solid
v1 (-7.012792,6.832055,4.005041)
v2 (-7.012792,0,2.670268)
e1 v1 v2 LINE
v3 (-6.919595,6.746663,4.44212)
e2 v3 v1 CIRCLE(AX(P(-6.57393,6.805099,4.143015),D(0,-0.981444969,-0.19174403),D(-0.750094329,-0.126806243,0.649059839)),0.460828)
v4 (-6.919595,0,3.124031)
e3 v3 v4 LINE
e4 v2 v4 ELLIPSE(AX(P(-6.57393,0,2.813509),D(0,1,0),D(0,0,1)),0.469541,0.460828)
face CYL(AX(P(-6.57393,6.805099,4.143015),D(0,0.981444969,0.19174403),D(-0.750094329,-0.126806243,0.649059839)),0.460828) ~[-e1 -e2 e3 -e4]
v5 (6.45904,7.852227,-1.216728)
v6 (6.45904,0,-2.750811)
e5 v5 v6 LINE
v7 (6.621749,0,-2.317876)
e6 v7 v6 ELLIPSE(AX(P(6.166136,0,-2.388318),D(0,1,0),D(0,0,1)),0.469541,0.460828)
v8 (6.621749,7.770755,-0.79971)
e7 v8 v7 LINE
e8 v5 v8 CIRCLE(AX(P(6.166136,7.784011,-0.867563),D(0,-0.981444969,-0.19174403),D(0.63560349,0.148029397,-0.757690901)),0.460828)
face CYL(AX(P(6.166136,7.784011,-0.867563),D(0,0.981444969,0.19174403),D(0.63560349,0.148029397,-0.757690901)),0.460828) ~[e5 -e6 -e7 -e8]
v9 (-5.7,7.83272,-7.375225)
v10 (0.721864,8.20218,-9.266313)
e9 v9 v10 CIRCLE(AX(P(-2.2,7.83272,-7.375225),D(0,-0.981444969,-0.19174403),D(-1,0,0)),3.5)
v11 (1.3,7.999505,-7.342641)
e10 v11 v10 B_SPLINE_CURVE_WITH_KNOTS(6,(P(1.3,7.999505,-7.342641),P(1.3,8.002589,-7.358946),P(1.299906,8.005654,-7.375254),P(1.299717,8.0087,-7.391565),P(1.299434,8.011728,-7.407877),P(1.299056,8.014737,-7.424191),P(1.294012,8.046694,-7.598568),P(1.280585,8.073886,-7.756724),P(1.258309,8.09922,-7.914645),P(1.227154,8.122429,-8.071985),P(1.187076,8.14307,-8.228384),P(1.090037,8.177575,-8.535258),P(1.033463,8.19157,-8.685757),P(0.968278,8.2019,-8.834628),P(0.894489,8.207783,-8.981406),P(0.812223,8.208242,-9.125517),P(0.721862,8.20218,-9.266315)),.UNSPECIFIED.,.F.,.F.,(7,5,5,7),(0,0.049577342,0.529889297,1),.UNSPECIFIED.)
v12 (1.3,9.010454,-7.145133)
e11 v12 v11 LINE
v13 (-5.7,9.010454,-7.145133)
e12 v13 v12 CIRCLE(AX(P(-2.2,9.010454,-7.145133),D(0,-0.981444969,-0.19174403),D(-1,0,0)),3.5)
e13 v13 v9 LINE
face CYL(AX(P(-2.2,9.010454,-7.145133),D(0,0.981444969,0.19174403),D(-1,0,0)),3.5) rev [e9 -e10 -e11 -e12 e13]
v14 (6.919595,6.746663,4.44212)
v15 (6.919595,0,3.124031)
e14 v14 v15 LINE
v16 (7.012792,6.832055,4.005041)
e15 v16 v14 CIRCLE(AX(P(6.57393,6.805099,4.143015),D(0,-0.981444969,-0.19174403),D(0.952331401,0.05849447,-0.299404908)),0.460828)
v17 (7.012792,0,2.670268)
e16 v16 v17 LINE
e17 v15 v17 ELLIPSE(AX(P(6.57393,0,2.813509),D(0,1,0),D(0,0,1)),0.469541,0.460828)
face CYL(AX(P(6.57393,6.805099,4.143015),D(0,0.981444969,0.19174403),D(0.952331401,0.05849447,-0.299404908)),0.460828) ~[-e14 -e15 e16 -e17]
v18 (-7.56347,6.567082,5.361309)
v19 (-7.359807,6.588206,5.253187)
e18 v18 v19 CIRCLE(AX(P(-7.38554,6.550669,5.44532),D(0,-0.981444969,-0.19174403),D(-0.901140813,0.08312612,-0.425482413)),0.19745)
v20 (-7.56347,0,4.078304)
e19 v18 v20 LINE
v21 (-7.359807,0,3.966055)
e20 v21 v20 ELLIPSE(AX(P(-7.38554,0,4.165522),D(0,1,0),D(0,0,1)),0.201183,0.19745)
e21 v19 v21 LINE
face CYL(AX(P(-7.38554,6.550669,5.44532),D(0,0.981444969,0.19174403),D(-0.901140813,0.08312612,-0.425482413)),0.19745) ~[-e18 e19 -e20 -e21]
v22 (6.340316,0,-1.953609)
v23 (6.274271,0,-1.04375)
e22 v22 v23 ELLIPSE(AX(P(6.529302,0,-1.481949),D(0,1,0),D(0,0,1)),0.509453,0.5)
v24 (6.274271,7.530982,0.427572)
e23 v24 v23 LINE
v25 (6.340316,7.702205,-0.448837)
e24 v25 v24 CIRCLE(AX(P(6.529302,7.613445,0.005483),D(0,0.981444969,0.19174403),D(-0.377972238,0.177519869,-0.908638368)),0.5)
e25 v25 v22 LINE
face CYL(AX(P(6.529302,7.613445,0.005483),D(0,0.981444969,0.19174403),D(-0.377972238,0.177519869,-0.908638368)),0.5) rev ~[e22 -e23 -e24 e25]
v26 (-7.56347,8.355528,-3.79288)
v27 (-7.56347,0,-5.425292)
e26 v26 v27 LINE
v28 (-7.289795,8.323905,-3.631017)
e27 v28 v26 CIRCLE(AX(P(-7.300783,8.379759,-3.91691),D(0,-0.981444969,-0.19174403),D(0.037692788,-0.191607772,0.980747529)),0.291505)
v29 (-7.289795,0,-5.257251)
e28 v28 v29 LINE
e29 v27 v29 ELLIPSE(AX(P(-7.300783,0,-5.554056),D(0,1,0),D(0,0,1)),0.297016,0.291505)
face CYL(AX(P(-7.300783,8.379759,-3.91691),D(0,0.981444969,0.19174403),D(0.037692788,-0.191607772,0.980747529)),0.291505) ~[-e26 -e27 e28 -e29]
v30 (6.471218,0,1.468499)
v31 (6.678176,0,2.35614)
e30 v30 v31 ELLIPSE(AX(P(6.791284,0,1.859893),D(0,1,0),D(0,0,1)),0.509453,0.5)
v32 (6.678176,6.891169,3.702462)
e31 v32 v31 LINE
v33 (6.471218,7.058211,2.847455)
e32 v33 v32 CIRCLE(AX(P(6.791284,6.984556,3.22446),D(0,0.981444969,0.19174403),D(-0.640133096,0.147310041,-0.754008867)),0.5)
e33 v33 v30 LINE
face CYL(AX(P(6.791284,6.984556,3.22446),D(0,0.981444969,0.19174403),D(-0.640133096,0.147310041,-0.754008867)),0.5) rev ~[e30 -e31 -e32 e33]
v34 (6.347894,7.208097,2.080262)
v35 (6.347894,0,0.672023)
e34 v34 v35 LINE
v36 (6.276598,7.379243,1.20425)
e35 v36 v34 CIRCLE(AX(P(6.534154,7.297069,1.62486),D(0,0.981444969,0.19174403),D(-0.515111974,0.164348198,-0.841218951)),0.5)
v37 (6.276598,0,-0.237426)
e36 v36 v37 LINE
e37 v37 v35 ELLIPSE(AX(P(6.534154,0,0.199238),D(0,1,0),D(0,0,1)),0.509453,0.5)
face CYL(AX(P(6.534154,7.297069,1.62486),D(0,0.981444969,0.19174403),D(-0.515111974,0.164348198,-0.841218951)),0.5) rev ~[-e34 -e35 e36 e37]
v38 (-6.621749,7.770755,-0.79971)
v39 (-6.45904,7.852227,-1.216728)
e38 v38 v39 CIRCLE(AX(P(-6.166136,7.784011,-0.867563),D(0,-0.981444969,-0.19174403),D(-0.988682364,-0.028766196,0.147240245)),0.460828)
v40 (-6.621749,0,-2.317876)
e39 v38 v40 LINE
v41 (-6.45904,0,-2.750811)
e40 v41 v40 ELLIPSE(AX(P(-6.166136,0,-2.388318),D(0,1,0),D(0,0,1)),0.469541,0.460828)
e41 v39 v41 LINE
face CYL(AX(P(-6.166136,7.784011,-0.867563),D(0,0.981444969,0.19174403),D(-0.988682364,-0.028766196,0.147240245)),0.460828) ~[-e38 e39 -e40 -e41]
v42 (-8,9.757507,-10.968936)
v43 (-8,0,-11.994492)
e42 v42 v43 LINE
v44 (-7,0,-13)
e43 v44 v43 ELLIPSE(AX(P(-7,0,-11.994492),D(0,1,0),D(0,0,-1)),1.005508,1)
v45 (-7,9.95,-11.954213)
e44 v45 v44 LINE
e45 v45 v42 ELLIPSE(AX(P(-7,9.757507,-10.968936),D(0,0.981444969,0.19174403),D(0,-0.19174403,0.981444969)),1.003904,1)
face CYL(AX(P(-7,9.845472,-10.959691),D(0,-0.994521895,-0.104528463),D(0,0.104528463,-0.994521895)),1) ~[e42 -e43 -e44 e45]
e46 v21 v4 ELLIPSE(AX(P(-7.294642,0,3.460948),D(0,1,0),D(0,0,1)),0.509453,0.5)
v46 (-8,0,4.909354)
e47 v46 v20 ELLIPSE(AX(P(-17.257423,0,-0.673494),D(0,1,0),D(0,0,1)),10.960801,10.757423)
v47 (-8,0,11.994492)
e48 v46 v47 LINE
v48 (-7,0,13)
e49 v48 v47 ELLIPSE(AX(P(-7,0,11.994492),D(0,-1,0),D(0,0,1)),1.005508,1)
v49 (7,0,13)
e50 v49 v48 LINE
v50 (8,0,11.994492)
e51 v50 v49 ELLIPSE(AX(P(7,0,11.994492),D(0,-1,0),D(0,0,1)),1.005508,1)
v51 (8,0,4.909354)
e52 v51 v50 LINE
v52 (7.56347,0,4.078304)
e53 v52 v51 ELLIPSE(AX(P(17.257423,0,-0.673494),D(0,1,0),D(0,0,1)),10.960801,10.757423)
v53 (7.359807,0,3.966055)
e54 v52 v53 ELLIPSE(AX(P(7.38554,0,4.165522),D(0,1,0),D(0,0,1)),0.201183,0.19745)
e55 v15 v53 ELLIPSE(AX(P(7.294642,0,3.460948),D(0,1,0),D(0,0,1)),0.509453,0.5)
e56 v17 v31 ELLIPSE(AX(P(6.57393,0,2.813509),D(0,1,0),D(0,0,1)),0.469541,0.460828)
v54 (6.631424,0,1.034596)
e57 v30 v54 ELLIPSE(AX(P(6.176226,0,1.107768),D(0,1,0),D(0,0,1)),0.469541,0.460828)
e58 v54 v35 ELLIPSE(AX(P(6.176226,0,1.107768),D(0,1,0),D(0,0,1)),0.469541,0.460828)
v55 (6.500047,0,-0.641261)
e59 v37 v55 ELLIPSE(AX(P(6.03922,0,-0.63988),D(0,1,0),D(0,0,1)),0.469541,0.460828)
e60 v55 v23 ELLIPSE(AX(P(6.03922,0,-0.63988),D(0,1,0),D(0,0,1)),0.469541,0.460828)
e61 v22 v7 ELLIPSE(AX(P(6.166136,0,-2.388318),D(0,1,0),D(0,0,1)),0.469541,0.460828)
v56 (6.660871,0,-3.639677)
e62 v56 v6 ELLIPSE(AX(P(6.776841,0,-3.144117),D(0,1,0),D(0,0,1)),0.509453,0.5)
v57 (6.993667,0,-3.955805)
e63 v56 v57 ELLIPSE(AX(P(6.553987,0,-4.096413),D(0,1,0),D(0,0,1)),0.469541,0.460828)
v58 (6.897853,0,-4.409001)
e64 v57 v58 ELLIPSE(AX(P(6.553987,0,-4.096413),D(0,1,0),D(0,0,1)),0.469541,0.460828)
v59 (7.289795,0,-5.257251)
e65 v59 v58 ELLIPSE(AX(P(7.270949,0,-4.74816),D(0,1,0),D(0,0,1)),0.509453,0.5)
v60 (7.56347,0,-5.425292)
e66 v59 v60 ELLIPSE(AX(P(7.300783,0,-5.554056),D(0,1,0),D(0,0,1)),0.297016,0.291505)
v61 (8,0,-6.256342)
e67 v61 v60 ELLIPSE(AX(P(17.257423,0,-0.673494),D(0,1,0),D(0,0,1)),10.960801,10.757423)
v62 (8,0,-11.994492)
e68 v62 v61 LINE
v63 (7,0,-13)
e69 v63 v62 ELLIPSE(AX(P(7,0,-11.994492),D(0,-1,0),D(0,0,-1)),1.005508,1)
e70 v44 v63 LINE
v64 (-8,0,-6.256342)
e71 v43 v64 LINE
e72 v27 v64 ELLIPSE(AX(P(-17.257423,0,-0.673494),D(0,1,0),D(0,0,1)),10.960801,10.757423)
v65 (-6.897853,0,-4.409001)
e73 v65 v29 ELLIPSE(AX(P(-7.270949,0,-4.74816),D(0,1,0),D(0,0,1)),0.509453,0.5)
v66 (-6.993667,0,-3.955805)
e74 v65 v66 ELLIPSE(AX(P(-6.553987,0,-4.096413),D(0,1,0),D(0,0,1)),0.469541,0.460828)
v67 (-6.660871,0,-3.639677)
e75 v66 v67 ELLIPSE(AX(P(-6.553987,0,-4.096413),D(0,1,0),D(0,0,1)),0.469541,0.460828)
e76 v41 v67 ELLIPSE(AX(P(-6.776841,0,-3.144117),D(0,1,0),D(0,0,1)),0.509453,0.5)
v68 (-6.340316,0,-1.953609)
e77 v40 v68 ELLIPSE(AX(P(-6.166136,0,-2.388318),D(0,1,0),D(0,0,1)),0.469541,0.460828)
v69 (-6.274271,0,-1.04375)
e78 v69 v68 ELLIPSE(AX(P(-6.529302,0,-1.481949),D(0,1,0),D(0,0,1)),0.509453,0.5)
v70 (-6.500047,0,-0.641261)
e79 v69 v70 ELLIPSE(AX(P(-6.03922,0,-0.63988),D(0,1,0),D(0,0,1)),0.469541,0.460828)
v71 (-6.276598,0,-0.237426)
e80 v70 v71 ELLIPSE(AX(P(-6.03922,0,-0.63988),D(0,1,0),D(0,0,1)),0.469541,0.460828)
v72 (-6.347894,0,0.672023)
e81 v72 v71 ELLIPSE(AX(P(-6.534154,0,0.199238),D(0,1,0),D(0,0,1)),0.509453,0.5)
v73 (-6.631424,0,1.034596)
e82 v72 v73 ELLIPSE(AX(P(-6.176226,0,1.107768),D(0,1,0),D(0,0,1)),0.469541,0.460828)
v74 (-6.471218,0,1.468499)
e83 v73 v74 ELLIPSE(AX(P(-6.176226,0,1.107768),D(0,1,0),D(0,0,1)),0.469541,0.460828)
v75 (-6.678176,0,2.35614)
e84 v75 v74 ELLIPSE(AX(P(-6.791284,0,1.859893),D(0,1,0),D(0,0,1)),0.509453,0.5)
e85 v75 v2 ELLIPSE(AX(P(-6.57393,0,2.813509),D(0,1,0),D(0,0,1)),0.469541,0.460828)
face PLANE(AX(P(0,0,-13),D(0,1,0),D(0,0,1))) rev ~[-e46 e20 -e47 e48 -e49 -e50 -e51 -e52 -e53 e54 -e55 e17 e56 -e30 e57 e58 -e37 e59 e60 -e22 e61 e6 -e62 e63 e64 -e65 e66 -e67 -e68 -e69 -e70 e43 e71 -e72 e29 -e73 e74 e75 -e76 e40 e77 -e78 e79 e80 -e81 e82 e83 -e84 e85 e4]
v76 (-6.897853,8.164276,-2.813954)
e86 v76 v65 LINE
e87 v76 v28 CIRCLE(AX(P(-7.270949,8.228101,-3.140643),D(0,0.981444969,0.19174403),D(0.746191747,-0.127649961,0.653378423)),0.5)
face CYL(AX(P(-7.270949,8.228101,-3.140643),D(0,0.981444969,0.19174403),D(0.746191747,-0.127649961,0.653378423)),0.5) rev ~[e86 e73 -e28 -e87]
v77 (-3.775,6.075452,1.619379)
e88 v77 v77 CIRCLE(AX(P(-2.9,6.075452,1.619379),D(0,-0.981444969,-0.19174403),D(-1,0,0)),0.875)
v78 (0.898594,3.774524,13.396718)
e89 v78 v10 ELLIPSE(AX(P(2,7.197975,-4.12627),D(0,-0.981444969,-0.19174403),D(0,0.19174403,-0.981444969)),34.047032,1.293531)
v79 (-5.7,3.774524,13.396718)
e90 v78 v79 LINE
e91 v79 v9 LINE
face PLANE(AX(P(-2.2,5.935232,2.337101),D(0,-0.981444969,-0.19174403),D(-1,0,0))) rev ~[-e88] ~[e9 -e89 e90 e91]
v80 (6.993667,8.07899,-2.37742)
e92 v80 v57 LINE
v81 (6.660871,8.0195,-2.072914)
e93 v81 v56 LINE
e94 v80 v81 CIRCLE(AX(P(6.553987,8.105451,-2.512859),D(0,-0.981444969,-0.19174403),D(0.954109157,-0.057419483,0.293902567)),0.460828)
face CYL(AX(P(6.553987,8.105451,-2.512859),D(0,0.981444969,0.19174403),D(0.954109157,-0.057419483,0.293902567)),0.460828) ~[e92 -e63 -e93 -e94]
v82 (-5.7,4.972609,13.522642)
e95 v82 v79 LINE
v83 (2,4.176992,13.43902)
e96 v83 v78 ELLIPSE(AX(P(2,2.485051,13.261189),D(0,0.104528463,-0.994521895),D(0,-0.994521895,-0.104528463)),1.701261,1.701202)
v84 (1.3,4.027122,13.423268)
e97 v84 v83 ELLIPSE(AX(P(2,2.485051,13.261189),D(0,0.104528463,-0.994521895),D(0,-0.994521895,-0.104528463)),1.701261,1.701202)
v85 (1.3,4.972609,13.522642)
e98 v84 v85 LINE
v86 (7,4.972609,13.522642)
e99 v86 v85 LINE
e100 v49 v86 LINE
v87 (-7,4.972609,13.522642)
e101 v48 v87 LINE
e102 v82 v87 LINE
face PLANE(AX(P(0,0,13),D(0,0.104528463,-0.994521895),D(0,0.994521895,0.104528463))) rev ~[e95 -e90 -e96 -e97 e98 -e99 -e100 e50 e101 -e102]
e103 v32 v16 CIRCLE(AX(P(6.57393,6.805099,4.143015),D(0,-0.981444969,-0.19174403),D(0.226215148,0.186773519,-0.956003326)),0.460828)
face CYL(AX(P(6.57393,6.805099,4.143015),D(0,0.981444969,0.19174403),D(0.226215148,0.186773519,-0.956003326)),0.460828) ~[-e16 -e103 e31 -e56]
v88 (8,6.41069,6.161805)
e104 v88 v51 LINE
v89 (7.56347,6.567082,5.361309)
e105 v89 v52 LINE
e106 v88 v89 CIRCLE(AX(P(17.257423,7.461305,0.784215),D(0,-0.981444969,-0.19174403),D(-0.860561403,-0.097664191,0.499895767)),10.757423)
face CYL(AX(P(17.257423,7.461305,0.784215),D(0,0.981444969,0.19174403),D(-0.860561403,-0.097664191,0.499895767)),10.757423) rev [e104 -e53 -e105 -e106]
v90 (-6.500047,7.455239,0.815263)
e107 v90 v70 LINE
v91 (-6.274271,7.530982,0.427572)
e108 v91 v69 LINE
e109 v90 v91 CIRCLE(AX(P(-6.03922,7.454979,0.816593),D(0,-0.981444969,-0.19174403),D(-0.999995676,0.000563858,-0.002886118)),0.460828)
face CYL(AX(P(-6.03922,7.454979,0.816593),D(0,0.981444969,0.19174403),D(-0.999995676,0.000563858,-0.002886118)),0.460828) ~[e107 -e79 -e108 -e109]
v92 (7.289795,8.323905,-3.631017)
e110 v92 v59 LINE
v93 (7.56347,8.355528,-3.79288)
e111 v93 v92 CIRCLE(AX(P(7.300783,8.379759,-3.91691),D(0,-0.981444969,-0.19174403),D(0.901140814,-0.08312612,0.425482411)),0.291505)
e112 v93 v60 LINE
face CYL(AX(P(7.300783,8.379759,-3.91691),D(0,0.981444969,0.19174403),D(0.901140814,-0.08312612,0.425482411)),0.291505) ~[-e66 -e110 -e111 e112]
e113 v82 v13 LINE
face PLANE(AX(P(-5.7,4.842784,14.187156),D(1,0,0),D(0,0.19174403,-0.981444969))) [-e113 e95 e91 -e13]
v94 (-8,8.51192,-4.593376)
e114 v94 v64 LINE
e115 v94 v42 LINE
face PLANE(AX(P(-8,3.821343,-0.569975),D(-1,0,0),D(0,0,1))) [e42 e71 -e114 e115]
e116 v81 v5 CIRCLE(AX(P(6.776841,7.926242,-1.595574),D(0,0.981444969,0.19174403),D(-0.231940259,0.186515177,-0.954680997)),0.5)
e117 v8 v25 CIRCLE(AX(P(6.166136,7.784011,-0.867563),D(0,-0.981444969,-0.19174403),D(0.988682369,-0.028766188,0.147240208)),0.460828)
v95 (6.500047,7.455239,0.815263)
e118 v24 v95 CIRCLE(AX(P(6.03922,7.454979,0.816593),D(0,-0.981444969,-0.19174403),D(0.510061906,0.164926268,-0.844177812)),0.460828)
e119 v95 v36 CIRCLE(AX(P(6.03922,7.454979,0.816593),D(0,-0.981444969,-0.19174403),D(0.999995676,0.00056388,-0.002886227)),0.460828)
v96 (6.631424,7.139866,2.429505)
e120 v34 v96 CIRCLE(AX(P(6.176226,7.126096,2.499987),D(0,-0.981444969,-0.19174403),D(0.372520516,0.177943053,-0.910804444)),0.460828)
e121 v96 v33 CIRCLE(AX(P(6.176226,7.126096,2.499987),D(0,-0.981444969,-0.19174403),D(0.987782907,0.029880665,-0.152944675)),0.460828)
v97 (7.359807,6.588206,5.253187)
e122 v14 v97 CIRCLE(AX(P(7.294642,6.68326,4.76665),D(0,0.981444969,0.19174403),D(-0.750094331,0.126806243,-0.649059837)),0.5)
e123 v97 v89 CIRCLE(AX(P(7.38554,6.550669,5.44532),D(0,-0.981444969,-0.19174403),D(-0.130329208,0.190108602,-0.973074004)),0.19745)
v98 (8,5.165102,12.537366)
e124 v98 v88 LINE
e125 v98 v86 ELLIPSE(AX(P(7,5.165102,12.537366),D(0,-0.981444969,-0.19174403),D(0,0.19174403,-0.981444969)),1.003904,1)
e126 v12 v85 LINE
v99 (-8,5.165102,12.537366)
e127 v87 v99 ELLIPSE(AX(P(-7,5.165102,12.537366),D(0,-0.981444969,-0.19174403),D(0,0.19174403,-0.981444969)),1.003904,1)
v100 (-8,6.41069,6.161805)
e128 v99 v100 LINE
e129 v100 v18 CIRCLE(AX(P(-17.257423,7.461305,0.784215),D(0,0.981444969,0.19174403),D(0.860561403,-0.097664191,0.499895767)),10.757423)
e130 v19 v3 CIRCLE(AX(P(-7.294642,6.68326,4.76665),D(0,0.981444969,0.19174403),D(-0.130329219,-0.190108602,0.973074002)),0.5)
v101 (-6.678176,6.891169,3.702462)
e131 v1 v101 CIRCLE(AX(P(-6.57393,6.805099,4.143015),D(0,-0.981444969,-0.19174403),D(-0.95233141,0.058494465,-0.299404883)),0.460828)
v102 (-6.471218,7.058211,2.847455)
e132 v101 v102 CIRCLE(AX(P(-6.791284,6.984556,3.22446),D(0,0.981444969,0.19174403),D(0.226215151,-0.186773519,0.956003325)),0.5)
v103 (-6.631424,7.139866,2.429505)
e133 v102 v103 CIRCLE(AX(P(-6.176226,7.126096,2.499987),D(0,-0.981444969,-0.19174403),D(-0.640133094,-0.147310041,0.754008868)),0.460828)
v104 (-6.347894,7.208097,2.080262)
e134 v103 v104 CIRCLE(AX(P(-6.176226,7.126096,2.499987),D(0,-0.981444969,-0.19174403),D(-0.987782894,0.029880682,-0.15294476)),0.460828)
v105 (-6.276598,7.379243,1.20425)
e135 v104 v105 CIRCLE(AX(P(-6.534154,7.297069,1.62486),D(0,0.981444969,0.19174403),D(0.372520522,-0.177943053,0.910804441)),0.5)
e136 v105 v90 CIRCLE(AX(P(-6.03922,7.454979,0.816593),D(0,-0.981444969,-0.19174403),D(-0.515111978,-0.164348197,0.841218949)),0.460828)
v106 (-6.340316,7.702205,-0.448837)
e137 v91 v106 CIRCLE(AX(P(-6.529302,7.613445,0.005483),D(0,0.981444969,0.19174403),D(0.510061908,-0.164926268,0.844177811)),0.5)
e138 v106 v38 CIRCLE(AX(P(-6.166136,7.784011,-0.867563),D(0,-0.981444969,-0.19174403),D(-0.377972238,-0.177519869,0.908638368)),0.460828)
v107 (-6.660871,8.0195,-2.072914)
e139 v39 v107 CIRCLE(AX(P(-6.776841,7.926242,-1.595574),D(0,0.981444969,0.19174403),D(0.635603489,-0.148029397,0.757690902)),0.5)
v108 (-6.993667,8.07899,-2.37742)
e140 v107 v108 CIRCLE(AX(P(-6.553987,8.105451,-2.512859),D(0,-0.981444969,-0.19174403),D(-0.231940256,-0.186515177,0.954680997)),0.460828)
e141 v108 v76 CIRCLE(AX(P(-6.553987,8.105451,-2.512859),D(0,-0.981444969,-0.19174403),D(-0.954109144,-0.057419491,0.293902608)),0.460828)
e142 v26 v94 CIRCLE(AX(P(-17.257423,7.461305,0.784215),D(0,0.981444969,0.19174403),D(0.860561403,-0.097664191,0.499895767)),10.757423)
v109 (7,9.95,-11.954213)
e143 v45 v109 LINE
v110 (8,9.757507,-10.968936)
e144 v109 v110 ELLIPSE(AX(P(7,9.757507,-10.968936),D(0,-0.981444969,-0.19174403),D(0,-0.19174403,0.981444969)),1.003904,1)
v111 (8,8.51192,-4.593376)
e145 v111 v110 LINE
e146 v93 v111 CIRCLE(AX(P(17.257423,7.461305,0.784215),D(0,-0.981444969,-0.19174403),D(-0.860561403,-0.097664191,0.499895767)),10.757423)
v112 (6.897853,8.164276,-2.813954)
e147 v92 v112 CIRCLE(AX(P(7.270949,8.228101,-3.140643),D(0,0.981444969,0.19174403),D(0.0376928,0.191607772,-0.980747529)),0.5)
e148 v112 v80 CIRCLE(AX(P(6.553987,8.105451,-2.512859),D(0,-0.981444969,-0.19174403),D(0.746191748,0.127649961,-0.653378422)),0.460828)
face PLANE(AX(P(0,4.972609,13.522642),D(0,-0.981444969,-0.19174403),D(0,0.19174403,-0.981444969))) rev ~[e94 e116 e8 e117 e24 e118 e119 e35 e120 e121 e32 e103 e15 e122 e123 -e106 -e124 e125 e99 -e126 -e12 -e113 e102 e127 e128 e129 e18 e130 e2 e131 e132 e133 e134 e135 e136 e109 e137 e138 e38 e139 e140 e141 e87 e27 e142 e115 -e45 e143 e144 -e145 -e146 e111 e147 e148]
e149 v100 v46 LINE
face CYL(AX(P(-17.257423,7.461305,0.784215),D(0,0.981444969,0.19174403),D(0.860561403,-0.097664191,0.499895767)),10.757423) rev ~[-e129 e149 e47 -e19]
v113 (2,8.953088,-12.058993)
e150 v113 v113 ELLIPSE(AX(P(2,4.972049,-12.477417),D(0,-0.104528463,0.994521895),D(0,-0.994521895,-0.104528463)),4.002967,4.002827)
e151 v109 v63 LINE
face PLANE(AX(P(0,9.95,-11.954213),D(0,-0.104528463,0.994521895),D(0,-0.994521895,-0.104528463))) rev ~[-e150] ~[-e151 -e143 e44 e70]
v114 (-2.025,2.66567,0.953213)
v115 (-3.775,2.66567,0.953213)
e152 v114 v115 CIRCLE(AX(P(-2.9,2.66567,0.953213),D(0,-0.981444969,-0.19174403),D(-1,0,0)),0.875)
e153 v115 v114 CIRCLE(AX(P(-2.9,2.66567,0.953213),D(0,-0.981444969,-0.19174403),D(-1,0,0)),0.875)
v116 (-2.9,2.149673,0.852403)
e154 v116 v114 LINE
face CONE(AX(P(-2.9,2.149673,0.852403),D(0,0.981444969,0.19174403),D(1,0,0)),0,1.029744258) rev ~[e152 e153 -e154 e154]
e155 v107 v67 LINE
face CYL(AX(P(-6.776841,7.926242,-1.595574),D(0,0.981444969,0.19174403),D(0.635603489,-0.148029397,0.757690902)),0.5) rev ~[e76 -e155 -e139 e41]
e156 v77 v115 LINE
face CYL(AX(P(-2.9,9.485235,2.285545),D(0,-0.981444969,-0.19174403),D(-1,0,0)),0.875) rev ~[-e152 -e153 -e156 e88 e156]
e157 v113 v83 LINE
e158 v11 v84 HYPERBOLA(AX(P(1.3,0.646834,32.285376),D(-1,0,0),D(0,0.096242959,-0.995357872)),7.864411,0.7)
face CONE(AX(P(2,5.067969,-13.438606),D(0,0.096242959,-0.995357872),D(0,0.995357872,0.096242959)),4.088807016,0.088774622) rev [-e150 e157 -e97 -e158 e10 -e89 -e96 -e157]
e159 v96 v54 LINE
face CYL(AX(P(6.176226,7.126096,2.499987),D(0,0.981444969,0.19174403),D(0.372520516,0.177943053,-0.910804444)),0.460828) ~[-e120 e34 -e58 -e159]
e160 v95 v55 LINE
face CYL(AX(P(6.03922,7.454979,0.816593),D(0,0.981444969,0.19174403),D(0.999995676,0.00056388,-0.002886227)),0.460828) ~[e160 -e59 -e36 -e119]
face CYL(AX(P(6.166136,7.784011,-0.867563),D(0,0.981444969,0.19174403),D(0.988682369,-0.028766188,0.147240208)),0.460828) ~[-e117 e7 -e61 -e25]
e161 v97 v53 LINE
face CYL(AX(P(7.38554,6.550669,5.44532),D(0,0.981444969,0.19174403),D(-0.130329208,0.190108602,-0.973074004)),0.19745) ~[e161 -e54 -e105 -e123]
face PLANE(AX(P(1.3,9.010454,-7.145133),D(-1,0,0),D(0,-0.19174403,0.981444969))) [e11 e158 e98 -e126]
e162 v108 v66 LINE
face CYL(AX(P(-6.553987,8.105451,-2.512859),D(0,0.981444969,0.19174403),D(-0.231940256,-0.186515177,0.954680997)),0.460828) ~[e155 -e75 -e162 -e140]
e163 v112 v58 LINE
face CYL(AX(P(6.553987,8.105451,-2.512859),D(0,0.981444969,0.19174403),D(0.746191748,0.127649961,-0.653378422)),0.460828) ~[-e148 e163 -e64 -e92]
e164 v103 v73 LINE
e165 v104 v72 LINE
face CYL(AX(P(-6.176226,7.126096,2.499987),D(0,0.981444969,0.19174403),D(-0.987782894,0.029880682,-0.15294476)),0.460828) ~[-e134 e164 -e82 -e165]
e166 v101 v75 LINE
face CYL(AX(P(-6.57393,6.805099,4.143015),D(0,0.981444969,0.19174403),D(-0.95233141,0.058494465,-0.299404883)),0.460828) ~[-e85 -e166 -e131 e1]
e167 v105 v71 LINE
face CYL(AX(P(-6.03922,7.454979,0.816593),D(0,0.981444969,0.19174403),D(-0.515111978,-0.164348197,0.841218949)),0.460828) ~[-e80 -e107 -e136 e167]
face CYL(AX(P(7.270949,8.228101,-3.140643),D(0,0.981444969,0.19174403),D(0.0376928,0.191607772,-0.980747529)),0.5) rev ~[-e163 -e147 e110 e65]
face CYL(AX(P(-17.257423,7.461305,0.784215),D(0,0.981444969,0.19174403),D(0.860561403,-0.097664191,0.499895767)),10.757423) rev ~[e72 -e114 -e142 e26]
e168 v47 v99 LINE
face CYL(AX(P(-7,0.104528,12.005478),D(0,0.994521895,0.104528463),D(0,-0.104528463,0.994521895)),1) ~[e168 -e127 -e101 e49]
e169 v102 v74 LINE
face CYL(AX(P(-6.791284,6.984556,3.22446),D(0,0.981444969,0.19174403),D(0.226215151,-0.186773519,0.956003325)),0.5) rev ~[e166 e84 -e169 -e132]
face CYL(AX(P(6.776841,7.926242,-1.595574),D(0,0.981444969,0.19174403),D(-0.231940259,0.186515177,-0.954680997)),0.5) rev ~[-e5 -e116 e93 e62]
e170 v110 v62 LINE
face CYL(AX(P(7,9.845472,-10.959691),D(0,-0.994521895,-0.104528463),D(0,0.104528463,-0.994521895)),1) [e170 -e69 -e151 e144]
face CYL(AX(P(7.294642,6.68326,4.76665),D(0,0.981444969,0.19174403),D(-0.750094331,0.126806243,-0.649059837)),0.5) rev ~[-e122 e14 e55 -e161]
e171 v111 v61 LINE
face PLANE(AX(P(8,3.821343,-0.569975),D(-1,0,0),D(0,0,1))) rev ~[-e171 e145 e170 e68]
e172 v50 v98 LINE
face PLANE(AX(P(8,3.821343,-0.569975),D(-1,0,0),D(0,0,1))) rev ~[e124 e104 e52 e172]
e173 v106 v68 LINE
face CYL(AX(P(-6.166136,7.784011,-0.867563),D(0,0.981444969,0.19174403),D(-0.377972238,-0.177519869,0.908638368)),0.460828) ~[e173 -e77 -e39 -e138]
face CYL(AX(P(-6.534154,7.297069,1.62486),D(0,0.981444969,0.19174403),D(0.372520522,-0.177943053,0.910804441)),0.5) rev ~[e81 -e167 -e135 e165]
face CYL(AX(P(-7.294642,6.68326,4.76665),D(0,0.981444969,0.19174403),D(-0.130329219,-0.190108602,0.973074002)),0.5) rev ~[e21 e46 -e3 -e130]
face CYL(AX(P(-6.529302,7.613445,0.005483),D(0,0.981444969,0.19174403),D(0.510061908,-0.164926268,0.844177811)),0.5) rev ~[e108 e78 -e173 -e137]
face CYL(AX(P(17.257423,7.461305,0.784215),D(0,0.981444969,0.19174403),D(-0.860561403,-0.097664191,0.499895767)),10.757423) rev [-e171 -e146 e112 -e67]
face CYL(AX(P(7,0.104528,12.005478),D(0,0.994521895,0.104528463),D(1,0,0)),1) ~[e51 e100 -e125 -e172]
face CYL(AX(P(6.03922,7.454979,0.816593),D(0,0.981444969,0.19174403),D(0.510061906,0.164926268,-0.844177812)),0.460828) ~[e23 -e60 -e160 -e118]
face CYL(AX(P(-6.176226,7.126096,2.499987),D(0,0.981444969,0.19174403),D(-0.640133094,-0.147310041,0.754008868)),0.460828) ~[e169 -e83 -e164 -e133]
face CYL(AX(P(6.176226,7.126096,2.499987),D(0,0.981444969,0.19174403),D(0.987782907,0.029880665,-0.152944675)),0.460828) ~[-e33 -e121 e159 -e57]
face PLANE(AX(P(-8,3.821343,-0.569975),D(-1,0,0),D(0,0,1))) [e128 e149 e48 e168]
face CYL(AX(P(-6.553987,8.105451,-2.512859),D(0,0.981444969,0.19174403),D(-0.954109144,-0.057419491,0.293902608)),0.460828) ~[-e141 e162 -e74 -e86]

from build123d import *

# Parameters (mm, degrees)
BOSS_EXTRUDE1_DEPTH          = 8
CUT_EXTRUDE2_DEPTH           = 1.2
CUT_EXTRUDE3_DEPTH           = 10.965900881
FILLET1_R                    = 1
M2_2X0_45_TAPPED_HOLE1_D     = 1.75
M2_2X0_45_TAPPED_HOLE1_DEPTH = 3.474246958
M2_2X0_45_TAPPED_HOLE1_TIP   = 0.525753042
CUT_EXTRUDE4_DEPTH           = 10.965900881


with BuildPart() as part:
    # Sketch1 → Boss-Extrude1 (new body, symmetric)
    with BuildSketch(Plane(origin=(0, 0, 0), x_dir=(0, 0, -1), z_dir=(1, 0, 0))):
        Polygon((13, 0), (-13, 0), (-13.522642316, 4.972609477), (11.954212859, 9.95), align=None)
    extrude(amount=BOSS_EXTRUDE1_DEPTH, both=True)

    # Sketch2 → Cut-Extrude2 (cut)
    with BuildSketch(Plane(origin=(0, 7.334562502, 1.432946949), x_dir=(1, 0, 0), z_dir=(0, 0.981444969, 0.19174403))):
        with BuildLine():
            Line((-5.7, -12.995337767), (-5.7, 8.740255167))
            ThreePointArc((-5.7, 8.740255167), (-2.2, 12.240255167), (1.3, 8.740255167))
            Line((1.3, 8.740255167), (1.3, -12.995337767))
            Line((1.3, -12.995337767), (-5.7, -12.995337767))
        make_face()
    extrude(amount=-CUT_EXTRUDE2_DEPTH, mode=Mode.SUBTRACT)

    # Sketch5 → Cut-Extrude3 (cut, through all)
    with BuildSketch(Plane(origin=(0, 7.334562502, 1.432946949), x_dir=(1, 0, 0), z_dir=(0, 0.981444969, 0.19174403))):
        with BuildLine():
            Line((-8, 6.140255167), (-8, -4.818261086))
            ThreePointArc((-8, -4.818261086), (-6.5, 0.660997041), (-8, 6.140255167))
        make_face()
        with BuildLine():
            Line((8, 6.140255167), (8, -4.818261086))
            ThreePointArc((8, -4.818261086), (6.5, 0.660997041), (8, 6.140255167))
        make_face()
    extrude(amount=-CUT_EXTRUDE3_DEPTH, mode=Mode.SUBTRACT)

    # Fillet1
    fillet1_edges = [part.edges().sort_by_distance(p)[0] for p in [
        (8, 2.486304738, 13.261321158),
        (8, 4.975, -12.47710643),
        (-8, 2.486304738, 13.261321158),
        (-8, 4.975, -12.47710643),
    ]]
    fillet(fillet1_edges, radius=FILLET1_R)

    # Sketch6 → Cut-Revolve1 (revolve, cut)
    with BuildSketch(Plane(origin=(2, 0, 0), x_dir=(0, 0, -1), z_dir=(1, 0, 0))):
        Polygon((13.04508728, 9.137795416), (-14.42511425, 3.992284126), (-14.282095982, 2.631556203), (-14.256713544, 2.390058443), (13.472498816, 5.071246296), align=None)
    revolve(axis=Axis((2, 2.390058443, 14.256713544), (0, 0.096242959, -0.995357872)), mode=Mode.SUBTRACT)

    # M2.2x0.45 Tapped Hole1
    with Locations(Plane(origin=(0, 6.156828539, 1.202854113), x_dir=(1, 0, 0), z_dir=(0, 0.981444969, 0.19174403))):
        with Locations((-2.9, -0.424399477)):
            Hole(M2_2X0_45_TAPPED_HOLE1_D / 2, depth=M2_2X0_45_TAPPED_HOLE1_DEPTH)
            with Locations((0, 0, -(M2_2X0_45_TAPPED_HOLE1_DEPTH + M2_2X0_45_TAPPED_HOLE1_TIP / 2))):  # 118° drill point
                Cone(0, M2_2X0_45_TAPPED_HOLE1_D / 2, M2_2X0_45_TAPPED_HOLE1_TIP, mode=Mode.SUBTRACT)

    # Sketch9 → Cut-Extrude4 (cut, through all)
    with BuildSketch(Plane(origin=(0, 7.334562502, 1.432946949), x_dir=(1, 0, 0), z_dir=(0, 0.981444969, 0.19174403))):
        with BuildLine():
            ThreePointArc((-7.289795354, 5.159702376), (-7.451242382, 5.201326159), (-7.563470071, 5.324625097))
            ThreePointArc((-7.563470071, 5.324625097), (-7.252547552, 4.613795693), (-6.993667337, 3.882405038))
            ThreePointArc((-6.993667337, 3.882405038), (-7.004481287, 4.117448052), (-6.897853081, 4.327192148))
            ThreePointArc((-6.897853081, 4.327192148), (-6.818575776, 4.873033057), (-7.289795354, 5.159702376))
        make_face()
        with BuildLine():
            ThreePointArc((-6.660871352, 3.572142615), (-6.868230387, 3.683337889), (-6.993667337, 3.882405038))
            ThreePointArc((-6.993667337, 3.882405038), (-6.776841479, 3.085777587), (-6.621748536, 2.274867649))
            ThreePointArc((-6.621748536, 2.274867649), (-6.596489986, 2.508799625), (-6.459039737, 2.69976976))
            ThreePointArc((-6.459039737, 2.69976976), (-6.289708944, 3.198480265), (-6.660871352, 3.572142615))
        make_face()
        with BuildLine():
            ThreePointArc((-6.340315921, 1.917360153), (-6.528230594, 2.05895899), (-6.621748536, 2.274867649))
            ThreePointArc((-6.621748536, 2.274867649), (-6.529302038, 1.454451661), (-6.500046516, 0.629362053))
            ThreePointArc((-6.500046516, 0.629362053), (-6.439309701, 0.856679466), (-6.274271086, 1.024382842))
            ThreePointArc((-6.274271086, 1.024382842), (-6.030663985, 1.491331089), (-6.340315921, 1.917360153))
        make_face()
        with BuildLine():
            ThreePointArc((-6.2765983, 0.23302027), (-6.440647698, 0.401691388), (-6.500046516, 0.629362053))
            ThreePointArc((-6.500046516, 0.629362053), (-6.534154287, -0.195541178), (-6.631424447, -1.015399212))
            ThreePointArc((-6.631424447, -1.015399212), (-6.536638256, -0.80004432), (-6.347894026, -0.659553155))
            ThreePointArc((-6.347894026, -0.659553155), (-6.035741762, -0.235352673), (-6.2765983, 0.23302027))
        make_face()
        with BuildLine():
            ThreePointArc((-6.47121752, -1.441250956), (-6.607542206, -1.249475706), (-6.631424447, -1.015399212))
            ThreePointArc((-6.631424447, -1.015399212), (-6.791284069, -1.825382978), (-7.012791541, -2.620721422))
            ThreePointArc((-7.012791541, -2.620721422), (-6.886185953, -2.422395441), (-6.678176493, -2.312421653))
            ThreePointArc((-6.678176493, -2.312421653), (-6.304822815, -1.940948752), (-6.47121752, -1.441250956))
        make_face()
        with BuildLine():
            ThreePointArc((-6.919594936, -3.066064322), (-7.024987686, -2.855696746), (-7.012791541, -2.620721422))
            ThreePointArc((-7.012791541, -2.620721422), (-7.264215038, -3.321206437), (-7.563470071, -4.002631015))
            ThreePointArc((-7.563470071, -4.002631015), (-7.47948201, -3.914560625), (-7.359806711, -3.892465134))
            ThreePointArc((-7.359806711, -3.892465134), (-6.85334699, -3.631801278), (-6.919594936, -3.066064322))
        make_face()
        with BuildLine():
            ThreePointArc((7.563470071, -4.002631015), (7.264215036, -3.321206432), (7.012791537, -2.620721412))
            ThreePointArc((7.012791537, -2.620721412), (7.024987687, -2.855696741), (6.919594936, -3.066064322))
            ThreePointArc((6.919594936, -3.066064322), (6.85334699, -3.631801278), (7.359806711, -3.892465134))
            ThreePointArc((7.359806711, -3.892465134), (7.47948201, -3.914560625), (7.563470071, -4.002631015))
        make_face()
        with BuildLine():
            ThreePointArc((7.012791537, -2.620721412), (6.791284072, -1.825382992), (6.631424452, -1.01539925))
            ThreePointArc((6.631424452, -1.01539925), (6.607542199, -1.249475724), (6.47121752, -1.441250956))
            ThreePointArc((6.47121752, -1.441250956), (6.304822815, -1.940948752), (6.678176493, -2.312421653))
            ThreePointArc((6.678176493, -2.312421653), (6.886185949, -2.422395438), (7.012791537, -2.620721412))
        make_face()
        with BuildLine():
            ThreePointArc((6.631424452, -1.01539925), (6.534154286, -0.195541171), (6.500046515, 0.629362105))
            ThreePointArc((6.500046515, 0.629362105), (6.440647711, 0.401691411), (6.2765983, 0.23302027))
            ThreePointArc((6.2765983, 0.23302027), (6.035741762, -0.235352673), (6.347894026, -0.659553155))
            ThreePointArc((6.347894026, -0.659553155), (6.536638268, -0.800044334), (6.631424452, -1.01539925))
        make_face()
        with BuildLine():
            ThreePointArc((6.500046515, 0.629362105), (6.52930204, 1.454451696), (6.621748538, 2.274867666))
            ThreePointArc((6.621748538, 2.274867666), (6.528230599, 2.058958996), (6.340315921, 1.917360153))
            ThreePointArc((6.340315921, 1.917360153), (6.030663985, 1.491331089), (6.274271086, 1.024382842))
            ThreePointArc((6.274271086, 1.024382842), (6.439309688, 0.856679489), (6.500046515, 0.629362105))
        make_face()
        with BuildLine():
            ThreePointArc((6.621748538, 2.274867666), (6.776841483, 3.085777604), (6.993667342, 3.882405056))
            ThreePointArc((6.993667342, 3.882405056), (6.868230394, 3.683337895), (6.660871352, 3.572142615))
            ThreePointArc((6.660871352, 3.572142615), (6.289708944, 3.198480265), (6.459039737, 2.69976976))
            ThreePointArc((6.459039737, 2.69976976), (6.596489983, 2.508799632), (6.621748538, 2.274867666))
        make_face()
        with BuildLine():
            ThreePointArc((7.563470071, 5.324625097), (7.451242382, 5.201326159), (7.289795354, 5.159702376))
            ThreePointArc((7.289795354, 5.159702376), (6.818575776, 4.873033057), (6.897853081, 4.327192148))
            ThreePointArc((6.897853081, 4.327192148), (7.004481285, 4.117448061), (6.993667342, 3.882405056))
            ThreePointArc((6.993667342, 3.882405056), (7.252547555, 4.613795701), (7.563470071, 5.324625097))
        make_face()
    extrude(amount=-CUT_EXTRUDE4_DEPTH, mode=Mode.SUBTRACT)


solid = part.part
